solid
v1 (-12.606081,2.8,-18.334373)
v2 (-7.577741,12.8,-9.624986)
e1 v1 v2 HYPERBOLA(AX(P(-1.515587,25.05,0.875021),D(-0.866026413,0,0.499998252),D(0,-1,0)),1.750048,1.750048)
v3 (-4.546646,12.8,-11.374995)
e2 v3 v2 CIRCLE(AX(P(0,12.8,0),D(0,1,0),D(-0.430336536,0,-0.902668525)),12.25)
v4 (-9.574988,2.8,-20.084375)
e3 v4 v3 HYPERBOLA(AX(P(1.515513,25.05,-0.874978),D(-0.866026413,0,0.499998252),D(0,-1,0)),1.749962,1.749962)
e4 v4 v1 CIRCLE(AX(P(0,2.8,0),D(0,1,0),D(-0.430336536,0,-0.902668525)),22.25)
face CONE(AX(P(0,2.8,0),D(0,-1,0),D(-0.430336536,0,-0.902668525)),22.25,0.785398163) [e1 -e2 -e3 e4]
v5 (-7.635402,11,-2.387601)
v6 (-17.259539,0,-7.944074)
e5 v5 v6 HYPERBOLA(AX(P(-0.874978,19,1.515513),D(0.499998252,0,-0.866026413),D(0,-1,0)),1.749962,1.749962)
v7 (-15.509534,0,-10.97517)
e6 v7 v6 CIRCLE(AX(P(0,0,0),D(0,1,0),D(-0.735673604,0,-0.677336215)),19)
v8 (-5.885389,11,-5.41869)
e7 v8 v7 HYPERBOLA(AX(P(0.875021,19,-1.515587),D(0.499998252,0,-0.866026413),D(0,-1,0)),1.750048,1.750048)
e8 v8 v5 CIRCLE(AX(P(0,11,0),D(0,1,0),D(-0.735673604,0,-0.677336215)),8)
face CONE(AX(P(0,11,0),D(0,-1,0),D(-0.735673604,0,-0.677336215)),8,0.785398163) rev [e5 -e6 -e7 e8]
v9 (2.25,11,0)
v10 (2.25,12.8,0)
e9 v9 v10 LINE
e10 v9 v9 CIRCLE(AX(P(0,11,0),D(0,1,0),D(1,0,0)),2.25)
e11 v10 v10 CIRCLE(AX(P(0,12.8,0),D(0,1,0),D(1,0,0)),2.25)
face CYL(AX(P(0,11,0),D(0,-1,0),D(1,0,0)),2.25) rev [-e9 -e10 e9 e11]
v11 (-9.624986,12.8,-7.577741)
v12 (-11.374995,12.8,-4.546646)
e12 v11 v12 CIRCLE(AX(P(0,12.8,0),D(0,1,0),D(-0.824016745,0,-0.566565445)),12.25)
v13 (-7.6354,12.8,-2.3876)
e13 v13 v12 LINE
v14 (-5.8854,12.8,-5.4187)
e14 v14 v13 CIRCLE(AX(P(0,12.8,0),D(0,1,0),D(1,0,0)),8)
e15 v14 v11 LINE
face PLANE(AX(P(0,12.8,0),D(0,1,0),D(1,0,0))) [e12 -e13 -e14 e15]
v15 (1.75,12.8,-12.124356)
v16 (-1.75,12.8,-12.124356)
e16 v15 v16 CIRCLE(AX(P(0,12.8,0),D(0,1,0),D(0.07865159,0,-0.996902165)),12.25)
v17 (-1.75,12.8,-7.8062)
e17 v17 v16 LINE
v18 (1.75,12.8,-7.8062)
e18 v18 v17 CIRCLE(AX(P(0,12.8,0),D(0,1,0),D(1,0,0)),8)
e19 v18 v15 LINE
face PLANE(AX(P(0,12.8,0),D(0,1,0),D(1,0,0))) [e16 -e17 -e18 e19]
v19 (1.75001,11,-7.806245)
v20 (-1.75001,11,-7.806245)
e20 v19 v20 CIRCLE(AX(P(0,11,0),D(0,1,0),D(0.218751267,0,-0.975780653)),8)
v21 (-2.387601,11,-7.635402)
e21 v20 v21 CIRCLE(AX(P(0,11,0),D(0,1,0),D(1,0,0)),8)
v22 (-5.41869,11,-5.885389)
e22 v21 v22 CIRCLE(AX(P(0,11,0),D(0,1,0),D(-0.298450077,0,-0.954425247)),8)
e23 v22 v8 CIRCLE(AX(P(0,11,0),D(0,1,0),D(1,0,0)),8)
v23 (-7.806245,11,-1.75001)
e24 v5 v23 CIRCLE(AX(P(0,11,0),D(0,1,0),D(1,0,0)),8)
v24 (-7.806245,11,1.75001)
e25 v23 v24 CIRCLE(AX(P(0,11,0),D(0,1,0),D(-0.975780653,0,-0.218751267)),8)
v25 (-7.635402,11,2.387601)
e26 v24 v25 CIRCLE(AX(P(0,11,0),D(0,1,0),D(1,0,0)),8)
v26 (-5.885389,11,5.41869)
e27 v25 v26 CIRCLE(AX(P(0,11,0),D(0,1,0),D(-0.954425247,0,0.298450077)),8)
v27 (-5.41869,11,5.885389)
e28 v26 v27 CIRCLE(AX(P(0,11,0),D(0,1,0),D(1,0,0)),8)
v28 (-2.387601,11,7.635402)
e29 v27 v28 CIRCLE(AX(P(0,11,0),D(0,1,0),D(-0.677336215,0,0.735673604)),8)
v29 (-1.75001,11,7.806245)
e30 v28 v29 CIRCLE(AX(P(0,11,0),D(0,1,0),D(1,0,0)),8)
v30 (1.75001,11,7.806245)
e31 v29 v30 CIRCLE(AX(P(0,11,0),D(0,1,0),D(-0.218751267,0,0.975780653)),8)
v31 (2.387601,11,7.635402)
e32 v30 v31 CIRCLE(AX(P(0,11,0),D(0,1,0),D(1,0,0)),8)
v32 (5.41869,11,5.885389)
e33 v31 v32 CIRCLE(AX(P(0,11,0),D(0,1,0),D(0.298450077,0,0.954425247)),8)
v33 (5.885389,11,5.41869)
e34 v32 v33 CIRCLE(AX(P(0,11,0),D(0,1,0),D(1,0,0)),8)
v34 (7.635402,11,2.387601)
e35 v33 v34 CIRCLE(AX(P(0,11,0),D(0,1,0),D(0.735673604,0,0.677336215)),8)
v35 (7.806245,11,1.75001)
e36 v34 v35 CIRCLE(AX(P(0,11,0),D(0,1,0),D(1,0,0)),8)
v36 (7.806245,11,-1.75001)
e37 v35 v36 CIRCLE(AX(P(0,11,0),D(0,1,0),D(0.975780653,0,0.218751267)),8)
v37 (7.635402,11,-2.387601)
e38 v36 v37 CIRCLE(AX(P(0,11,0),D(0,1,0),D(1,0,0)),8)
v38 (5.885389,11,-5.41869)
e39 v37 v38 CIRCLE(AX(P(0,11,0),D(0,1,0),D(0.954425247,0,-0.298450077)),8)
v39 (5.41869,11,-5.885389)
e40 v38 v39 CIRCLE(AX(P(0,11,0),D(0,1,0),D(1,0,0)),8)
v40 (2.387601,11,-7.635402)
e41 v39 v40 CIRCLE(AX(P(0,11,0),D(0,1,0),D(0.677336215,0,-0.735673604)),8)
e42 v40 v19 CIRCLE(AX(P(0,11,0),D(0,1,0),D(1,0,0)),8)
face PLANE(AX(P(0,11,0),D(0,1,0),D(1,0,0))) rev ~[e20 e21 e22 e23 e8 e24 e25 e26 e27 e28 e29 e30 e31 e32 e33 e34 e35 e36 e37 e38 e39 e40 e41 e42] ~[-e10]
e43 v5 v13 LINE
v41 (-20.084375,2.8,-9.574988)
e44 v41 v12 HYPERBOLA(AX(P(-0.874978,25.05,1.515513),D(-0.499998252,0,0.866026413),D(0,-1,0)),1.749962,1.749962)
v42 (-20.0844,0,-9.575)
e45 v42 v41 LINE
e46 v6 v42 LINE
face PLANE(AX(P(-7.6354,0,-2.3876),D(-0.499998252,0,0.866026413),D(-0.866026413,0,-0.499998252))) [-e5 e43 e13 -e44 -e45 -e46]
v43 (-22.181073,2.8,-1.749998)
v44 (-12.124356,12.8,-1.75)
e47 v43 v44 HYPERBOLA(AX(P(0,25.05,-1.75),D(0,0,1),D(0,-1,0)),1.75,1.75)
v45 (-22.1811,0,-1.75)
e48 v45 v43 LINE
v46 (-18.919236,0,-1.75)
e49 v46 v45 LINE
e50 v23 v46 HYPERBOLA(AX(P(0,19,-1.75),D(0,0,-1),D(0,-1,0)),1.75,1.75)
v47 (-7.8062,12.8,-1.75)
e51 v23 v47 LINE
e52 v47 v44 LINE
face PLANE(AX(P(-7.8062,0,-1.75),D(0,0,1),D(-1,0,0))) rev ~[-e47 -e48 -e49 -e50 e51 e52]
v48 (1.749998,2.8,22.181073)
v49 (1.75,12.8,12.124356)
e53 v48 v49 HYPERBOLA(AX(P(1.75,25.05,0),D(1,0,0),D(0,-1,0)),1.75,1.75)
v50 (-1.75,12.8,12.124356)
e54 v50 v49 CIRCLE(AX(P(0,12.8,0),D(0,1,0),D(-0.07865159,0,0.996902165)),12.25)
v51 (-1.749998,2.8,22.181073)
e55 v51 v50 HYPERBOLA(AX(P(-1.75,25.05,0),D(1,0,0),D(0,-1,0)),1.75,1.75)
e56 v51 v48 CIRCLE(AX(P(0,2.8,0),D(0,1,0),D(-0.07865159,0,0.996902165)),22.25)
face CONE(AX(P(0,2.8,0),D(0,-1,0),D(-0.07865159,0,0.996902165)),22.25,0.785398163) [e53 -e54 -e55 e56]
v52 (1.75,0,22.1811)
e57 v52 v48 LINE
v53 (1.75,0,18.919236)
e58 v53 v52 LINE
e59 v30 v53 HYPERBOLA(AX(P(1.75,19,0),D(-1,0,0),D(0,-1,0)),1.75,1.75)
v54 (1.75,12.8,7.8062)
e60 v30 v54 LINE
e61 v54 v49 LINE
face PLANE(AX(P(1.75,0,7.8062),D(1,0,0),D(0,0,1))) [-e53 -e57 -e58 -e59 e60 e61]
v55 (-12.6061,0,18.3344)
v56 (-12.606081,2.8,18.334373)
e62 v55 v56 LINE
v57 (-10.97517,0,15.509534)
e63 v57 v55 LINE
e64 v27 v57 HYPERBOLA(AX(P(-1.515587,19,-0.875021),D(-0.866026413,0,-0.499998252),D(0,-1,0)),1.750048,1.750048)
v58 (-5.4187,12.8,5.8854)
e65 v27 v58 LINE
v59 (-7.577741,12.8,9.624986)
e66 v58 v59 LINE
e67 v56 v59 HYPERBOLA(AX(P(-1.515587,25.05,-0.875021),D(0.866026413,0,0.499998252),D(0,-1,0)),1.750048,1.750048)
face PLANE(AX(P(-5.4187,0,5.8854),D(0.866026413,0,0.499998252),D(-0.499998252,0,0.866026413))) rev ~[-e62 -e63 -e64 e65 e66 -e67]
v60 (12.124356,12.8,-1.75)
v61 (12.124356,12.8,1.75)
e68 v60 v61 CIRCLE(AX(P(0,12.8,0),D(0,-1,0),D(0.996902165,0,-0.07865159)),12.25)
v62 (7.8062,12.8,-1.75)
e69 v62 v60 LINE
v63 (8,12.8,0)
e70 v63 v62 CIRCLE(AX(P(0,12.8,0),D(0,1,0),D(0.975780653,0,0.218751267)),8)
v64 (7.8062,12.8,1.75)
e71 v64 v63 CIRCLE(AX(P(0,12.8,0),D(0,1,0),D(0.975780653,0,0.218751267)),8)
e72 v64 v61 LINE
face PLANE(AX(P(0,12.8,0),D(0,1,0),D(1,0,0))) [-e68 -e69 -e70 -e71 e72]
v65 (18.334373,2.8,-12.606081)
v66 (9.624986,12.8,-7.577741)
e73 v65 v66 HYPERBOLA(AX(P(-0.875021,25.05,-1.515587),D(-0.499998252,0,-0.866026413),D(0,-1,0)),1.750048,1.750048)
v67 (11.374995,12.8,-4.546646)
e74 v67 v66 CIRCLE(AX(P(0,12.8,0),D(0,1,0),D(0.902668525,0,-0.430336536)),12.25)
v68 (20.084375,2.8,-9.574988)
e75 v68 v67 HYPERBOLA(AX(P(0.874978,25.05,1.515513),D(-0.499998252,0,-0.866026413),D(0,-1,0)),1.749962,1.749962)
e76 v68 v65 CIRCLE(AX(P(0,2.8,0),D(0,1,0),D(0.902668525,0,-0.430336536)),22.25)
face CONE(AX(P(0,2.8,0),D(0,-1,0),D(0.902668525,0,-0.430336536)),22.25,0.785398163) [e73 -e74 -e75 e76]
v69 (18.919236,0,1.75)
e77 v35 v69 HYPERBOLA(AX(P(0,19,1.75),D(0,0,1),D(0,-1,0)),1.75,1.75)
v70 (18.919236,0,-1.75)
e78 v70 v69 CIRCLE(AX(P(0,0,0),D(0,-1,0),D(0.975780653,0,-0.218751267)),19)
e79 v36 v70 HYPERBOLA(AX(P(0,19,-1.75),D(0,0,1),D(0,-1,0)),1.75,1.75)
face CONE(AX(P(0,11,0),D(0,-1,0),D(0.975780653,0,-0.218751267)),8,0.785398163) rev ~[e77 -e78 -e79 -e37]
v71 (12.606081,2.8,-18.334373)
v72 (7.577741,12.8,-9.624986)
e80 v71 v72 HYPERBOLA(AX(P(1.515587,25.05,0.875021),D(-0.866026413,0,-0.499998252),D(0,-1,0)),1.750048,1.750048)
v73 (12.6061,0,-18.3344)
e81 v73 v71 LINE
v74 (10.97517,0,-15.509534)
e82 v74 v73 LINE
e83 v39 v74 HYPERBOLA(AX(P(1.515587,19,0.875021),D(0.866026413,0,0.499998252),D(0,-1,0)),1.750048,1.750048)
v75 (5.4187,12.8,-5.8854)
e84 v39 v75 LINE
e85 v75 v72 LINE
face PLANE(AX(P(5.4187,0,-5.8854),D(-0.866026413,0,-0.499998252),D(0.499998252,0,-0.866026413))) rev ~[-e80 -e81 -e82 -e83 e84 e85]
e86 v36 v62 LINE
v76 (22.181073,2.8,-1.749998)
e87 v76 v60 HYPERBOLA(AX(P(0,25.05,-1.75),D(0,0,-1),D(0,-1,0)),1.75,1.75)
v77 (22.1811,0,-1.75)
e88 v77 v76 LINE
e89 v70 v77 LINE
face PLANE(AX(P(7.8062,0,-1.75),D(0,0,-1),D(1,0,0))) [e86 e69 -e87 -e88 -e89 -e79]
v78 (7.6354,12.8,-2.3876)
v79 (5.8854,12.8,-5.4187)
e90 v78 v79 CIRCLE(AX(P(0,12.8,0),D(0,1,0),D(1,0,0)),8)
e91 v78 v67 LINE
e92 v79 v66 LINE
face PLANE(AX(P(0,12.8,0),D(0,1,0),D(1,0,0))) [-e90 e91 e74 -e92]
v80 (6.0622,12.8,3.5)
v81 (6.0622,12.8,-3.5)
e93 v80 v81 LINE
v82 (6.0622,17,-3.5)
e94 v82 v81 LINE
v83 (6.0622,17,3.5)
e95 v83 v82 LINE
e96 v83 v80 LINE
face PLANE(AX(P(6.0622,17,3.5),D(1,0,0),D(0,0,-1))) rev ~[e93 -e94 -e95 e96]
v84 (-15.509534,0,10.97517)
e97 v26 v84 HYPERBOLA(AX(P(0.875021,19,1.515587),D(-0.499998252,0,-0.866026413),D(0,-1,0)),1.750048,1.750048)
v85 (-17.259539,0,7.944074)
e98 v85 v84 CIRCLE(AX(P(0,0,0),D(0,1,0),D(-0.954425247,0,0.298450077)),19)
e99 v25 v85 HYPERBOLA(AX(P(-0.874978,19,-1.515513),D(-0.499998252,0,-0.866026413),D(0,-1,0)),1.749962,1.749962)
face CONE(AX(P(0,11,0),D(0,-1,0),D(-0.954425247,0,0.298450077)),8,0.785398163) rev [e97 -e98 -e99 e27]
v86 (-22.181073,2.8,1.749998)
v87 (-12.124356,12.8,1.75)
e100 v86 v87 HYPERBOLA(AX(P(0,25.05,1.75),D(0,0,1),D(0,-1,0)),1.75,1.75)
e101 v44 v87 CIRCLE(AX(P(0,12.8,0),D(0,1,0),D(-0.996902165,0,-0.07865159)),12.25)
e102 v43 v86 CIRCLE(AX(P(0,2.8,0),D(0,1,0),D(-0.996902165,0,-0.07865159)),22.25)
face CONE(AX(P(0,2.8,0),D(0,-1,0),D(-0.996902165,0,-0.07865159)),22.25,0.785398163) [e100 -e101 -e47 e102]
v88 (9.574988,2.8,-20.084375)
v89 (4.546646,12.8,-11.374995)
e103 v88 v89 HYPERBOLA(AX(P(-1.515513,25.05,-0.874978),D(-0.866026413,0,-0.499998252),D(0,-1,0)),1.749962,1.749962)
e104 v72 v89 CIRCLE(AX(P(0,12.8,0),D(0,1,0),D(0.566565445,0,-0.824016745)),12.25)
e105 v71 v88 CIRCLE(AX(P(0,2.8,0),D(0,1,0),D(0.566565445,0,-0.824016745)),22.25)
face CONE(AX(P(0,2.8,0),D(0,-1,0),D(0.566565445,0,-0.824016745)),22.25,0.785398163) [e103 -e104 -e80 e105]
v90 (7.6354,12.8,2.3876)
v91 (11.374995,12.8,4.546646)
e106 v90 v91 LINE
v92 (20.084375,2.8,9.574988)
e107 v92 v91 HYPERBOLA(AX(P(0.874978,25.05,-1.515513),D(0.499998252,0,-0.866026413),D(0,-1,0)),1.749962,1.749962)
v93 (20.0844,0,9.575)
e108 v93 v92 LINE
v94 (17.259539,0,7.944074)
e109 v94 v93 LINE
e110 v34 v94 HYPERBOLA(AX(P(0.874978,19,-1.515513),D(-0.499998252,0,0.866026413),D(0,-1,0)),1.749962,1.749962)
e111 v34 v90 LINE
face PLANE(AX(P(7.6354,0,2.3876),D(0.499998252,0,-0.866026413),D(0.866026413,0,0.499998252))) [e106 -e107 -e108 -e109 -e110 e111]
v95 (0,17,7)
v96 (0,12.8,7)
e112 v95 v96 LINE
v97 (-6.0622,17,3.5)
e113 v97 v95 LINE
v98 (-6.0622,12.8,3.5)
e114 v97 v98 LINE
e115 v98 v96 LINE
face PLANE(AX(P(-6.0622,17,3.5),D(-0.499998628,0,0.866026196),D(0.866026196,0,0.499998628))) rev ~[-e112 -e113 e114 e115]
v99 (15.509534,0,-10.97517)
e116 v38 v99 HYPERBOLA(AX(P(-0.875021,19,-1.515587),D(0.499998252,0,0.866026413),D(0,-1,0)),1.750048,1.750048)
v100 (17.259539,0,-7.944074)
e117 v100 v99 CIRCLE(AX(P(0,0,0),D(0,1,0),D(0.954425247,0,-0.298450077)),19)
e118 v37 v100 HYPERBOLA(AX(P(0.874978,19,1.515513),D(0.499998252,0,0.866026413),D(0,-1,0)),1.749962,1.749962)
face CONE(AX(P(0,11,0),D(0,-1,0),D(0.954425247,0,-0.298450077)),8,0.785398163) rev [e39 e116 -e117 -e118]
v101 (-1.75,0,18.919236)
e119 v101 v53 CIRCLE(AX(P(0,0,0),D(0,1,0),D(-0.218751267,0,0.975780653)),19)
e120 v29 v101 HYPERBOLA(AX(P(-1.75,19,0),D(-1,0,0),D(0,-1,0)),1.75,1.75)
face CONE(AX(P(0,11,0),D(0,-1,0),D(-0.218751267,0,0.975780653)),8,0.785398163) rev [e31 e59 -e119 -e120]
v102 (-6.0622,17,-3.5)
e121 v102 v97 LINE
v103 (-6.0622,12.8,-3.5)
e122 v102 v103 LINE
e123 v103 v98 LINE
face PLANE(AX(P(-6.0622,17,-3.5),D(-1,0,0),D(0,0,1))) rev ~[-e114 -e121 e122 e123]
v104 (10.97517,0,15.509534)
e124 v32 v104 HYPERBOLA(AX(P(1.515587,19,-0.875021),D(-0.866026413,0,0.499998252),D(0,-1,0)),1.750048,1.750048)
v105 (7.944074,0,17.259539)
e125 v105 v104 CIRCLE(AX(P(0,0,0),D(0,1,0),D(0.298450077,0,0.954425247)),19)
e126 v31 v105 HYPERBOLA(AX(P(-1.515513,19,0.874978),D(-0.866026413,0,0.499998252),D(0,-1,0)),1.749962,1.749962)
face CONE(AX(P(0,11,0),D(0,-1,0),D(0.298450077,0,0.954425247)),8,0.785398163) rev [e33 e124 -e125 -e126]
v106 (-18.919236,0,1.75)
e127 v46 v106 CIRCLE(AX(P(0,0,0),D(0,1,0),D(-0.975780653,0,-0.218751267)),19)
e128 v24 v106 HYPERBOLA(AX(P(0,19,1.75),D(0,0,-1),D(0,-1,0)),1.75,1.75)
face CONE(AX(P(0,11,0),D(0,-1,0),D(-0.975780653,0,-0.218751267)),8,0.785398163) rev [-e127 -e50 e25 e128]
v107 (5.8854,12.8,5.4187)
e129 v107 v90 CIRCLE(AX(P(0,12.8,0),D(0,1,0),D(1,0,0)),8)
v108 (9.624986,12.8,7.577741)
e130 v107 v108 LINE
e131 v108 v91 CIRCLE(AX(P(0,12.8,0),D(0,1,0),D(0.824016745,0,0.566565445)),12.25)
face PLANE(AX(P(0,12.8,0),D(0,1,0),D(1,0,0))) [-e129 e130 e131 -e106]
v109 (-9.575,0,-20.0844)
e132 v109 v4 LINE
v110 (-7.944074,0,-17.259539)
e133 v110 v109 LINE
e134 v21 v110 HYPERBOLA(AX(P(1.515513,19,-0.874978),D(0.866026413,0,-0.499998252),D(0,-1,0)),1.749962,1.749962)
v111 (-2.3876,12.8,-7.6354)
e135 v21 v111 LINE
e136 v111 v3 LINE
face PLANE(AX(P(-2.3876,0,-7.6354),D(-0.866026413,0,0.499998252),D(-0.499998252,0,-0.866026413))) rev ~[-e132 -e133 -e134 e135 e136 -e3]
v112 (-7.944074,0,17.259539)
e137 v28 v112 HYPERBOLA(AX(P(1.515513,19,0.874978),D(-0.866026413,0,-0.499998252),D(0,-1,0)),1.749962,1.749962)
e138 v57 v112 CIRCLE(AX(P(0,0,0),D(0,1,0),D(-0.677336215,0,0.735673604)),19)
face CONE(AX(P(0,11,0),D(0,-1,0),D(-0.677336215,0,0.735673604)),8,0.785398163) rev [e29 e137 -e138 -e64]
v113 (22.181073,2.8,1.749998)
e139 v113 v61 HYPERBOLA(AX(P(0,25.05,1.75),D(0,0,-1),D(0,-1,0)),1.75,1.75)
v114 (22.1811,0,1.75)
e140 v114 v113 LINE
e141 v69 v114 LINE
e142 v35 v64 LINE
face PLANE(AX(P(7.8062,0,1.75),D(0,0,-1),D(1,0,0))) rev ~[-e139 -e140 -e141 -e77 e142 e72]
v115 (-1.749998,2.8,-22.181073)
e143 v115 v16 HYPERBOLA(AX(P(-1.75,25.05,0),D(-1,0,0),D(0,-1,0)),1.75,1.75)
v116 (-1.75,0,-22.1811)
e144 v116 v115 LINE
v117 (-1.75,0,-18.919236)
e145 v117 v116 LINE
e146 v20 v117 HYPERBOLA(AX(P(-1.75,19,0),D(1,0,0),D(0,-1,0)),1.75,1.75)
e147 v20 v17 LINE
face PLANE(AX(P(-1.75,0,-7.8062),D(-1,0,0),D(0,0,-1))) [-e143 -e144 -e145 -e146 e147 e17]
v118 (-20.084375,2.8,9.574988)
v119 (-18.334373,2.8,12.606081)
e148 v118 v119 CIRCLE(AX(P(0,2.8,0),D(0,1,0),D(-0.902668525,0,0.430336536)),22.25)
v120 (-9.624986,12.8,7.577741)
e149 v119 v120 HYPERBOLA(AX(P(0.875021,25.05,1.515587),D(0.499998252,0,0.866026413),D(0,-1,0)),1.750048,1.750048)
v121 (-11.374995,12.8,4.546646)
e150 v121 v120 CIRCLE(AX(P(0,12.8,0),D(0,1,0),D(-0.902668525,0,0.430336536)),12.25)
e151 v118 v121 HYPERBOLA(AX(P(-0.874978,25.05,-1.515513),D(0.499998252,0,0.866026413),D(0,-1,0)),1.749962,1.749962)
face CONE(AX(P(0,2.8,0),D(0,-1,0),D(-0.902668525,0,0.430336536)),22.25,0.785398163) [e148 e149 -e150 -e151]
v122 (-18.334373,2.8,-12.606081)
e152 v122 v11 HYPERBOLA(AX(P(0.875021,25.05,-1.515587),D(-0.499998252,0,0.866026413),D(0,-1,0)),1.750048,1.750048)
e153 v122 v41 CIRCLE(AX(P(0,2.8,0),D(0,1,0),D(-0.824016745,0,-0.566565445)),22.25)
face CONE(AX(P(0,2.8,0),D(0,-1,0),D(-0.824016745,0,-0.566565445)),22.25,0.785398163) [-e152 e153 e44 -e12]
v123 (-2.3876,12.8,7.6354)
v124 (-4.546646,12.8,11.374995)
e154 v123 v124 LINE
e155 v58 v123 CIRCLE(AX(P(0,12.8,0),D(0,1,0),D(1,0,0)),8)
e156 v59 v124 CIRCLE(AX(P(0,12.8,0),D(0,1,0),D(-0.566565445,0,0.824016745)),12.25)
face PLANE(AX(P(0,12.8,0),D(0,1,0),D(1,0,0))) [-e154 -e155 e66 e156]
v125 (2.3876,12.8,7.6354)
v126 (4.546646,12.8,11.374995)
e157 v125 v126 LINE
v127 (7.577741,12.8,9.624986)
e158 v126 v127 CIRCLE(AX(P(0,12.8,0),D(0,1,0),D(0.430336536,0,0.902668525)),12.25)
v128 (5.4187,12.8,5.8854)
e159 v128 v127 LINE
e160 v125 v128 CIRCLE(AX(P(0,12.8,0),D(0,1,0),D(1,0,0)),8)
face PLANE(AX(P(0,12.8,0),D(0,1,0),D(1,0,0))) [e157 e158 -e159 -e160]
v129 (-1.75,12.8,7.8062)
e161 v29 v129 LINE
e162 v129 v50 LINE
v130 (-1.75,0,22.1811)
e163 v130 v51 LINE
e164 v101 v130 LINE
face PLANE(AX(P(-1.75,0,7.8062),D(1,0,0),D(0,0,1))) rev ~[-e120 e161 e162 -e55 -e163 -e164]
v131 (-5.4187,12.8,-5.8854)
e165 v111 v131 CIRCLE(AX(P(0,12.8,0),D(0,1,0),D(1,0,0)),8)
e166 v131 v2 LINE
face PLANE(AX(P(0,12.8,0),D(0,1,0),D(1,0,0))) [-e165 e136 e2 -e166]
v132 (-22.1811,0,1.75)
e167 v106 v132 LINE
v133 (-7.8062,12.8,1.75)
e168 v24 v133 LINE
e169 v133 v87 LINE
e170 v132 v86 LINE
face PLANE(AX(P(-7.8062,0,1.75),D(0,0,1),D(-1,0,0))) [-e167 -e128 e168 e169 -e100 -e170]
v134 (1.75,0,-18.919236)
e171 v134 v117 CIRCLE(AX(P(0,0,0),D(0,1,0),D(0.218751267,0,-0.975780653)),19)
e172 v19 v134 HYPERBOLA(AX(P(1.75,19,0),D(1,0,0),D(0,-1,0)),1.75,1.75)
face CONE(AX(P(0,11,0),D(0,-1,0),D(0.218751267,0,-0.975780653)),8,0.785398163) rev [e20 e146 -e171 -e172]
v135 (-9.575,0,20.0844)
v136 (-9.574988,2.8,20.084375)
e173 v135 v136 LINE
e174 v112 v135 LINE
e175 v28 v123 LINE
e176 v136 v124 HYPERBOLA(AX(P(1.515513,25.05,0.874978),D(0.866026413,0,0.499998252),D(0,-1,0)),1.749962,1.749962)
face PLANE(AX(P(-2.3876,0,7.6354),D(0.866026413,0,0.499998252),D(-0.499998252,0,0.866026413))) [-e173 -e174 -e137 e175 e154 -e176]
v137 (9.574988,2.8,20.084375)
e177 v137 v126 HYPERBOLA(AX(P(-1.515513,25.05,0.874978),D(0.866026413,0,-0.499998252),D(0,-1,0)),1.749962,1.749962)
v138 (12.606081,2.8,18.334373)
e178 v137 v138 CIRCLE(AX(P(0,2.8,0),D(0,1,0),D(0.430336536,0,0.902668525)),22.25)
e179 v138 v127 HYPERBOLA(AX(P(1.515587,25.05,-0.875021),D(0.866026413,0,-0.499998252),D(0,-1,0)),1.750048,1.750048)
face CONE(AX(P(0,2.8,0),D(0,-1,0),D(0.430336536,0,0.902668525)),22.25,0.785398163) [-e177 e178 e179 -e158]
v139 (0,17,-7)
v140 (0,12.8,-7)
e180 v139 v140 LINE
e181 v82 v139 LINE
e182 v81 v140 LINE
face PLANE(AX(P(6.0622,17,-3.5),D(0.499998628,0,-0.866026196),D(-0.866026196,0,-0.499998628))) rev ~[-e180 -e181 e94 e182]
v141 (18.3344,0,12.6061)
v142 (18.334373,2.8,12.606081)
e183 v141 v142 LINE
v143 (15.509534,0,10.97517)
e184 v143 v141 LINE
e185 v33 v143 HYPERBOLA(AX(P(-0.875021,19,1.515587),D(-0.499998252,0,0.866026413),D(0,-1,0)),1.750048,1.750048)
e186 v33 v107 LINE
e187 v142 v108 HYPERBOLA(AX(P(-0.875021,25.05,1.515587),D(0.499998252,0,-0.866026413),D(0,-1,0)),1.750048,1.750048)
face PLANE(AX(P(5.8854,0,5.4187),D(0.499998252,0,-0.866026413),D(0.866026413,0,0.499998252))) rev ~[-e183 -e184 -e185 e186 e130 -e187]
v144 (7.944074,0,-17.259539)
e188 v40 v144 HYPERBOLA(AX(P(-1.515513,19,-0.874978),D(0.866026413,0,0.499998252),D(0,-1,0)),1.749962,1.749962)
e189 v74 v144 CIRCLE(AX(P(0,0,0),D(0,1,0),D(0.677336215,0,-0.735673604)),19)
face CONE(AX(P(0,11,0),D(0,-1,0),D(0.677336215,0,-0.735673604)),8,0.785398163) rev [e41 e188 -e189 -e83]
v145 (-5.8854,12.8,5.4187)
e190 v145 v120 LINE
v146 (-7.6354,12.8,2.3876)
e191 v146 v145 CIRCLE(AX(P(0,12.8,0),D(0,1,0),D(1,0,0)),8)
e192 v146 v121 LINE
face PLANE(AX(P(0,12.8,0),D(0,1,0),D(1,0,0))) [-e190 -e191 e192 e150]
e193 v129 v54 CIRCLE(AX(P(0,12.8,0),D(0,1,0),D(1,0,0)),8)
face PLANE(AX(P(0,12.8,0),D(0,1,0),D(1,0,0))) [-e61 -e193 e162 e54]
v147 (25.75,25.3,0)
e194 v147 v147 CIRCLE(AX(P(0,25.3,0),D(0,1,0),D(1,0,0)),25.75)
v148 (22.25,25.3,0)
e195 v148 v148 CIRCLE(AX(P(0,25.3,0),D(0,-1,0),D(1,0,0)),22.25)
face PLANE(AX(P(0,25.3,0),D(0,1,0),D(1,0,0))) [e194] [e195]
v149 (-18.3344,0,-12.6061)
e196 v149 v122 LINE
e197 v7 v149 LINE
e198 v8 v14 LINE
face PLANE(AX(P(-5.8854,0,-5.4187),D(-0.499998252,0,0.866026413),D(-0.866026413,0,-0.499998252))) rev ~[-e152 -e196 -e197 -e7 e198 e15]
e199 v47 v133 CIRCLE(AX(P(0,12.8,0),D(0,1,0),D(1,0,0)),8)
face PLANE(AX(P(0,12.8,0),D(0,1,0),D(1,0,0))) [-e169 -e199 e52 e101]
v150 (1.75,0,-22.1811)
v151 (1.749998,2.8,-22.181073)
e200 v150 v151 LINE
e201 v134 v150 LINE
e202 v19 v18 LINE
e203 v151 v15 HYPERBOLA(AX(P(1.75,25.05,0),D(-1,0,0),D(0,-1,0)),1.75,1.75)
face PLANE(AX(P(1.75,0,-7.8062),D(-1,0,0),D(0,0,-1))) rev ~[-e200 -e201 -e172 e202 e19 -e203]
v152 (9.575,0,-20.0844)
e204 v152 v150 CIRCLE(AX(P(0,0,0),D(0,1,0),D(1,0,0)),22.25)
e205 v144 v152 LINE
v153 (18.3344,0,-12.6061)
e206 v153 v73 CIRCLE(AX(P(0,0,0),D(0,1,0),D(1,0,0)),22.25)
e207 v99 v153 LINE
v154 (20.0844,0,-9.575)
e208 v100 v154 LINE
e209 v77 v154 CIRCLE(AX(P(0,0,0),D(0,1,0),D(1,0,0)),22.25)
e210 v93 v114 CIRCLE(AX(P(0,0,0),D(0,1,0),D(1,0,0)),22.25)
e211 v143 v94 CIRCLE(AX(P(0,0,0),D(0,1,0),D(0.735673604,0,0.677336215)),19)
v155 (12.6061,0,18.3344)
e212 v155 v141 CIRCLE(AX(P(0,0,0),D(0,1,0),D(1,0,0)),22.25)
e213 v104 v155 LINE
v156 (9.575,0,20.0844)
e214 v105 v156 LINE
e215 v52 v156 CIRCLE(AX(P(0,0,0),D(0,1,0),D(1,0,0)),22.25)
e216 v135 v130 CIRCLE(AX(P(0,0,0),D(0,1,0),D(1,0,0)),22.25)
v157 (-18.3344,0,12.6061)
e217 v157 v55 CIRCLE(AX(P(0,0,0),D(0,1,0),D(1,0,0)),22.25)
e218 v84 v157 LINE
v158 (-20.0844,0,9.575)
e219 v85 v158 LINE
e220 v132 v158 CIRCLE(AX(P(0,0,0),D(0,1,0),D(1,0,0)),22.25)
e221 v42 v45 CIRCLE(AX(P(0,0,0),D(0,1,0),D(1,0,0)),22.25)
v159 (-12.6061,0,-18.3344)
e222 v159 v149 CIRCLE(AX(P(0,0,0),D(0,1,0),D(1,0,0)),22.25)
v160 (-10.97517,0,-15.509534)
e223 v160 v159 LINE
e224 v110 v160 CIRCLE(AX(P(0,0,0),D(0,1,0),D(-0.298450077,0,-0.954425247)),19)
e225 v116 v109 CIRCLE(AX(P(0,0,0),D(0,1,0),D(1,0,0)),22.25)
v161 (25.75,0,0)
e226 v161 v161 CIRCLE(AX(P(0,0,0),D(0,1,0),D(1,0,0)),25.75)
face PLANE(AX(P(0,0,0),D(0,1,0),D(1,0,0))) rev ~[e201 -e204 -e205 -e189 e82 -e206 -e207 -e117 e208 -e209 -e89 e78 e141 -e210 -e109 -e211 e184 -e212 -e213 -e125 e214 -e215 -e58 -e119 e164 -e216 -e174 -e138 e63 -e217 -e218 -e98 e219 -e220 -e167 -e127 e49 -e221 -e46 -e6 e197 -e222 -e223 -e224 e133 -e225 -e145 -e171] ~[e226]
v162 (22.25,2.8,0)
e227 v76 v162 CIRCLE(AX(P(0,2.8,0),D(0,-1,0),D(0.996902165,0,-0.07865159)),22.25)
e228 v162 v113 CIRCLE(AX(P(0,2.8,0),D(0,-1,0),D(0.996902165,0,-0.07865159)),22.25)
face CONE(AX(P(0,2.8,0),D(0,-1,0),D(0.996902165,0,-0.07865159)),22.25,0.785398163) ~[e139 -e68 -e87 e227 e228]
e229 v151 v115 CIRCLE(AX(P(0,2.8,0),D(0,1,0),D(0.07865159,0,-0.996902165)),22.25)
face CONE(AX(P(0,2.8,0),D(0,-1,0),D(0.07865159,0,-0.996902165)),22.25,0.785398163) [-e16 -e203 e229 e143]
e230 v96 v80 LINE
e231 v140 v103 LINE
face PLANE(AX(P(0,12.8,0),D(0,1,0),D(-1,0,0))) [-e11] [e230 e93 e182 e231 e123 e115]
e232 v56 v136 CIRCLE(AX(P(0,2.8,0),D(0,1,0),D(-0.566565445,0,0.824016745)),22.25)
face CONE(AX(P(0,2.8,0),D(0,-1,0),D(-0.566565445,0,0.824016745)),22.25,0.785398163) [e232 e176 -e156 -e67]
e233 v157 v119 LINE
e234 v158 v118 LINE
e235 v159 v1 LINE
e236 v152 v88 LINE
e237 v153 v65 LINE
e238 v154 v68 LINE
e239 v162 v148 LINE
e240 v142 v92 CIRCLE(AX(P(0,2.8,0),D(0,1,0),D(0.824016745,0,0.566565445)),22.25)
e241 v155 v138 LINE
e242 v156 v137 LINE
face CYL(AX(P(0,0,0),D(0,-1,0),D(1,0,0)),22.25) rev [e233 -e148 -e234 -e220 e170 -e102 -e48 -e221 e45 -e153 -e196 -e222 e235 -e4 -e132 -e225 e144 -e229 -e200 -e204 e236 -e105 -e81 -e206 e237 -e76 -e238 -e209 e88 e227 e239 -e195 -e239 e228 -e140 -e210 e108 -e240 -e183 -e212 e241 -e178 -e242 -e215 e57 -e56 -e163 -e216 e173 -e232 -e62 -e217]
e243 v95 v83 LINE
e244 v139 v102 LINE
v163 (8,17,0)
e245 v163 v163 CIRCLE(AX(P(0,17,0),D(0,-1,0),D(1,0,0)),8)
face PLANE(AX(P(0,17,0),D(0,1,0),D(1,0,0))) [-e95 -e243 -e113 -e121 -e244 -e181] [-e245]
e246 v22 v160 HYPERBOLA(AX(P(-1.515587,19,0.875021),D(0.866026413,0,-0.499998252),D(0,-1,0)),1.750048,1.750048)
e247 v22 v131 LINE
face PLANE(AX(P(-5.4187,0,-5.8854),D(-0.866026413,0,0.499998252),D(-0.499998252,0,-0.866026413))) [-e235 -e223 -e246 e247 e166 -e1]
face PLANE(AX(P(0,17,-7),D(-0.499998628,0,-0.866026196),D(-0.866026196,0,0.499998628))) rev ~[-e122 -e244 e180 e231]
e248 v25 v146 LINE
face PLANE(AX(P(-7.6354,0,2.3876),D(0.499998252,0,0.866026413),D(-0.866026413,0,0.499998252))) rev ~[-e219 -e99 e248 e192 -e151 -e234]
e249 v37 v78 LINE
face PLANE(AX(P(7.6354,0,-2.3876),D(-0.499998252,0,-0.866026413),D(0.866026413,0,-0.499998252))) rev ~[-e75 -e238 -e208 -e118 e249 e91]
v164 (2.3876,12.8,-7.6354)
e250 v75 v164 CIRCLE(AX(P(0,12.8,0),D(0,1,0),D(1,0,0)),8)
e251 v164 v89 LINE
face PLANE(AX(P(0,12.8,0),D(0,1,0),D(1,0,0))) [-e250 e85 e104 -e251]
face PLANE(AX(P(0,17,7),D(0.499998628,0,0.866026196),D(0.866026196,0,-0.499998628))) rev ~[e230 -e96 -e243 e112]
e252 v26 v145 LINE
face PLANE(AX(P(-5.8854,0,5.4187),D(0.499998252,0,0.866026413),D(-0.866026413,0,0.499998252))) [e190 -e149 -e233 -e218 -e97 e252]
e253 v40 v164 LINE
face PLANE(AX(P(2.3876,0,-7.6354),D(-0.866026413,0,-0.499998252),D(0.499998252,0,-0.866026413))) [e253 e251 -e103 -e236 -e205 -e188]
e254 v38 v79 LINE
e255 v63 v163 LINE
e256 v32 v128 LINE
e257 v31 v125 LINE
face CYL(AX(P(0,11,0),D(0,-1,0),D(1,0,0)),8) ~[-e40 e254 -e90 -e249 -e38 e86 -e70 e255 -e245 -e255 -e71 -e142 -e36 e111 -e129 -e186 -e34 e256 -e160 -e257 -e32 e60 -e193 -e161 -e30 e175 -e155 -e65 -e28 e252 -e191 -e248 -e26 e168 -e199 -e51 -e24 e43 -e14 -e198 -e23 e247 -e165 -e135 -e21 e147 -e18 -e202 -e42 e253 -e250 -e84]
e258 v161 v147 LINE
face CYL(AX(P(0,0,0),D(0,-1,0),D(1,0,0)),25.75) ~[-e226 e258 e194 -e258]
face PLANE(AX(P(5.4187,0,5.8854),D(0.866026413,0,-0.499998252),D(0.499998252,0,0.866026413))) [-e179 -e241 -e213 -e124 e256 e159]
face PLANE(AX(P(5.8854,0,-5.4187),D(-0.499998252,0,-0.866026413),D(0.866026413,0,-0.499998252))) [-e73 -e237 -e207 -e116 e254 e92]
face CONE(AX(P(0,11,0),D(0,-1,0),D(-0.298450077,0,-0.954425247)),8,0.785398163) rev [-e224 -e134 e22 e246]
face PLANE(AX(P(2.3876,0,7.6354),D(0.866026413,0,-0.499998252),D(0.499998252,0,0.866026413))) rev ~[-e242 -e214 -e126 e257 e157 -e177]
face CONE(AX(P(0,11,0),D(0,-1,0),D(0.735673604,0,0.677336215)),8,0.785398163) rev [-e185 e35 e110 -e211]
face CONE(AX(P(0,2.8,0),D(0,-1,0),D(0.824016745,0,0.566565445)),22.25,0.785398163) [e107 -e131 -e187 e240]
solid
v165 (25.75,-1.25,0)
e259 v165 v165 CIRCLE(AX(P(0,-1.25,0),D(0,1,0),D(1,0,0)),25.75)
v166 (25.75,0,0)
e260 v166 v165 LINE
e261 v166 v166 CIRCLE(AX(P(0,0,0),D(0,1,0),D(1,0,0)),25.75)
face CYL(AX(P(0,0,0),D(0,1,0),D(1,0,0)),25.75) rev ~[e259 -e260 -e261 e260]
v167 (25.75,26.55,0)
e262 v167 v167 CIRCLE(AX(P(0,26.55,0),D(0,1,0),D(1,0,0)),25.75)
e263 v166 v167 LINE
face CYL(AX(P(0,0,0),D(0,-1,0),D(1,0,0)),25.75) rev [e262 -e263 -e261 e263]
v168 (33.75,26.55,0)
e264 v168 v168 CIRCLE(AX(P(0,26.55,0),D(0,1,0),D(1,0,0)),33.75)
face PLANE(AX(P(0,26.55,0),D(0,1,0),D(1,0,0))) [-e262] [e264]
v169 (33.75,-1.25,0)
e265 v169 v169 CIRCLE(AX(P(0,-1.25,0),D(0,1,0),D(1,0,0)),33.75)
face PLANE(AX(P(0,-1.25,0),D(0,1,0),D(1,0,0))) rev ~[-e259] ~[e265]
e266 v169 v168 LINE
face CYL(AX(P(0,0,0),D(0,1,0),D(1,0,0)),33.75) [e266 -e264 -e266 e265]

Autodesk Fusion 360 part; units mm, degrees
sketch "Sketch1" plane through (0, 0, 0) normal (0, 1, 0) x (1, 0, 0) in component "hub"
  circle A0 centre (0, 0) radius 25.75
  circle A1 centre (0, 0) radius 2.25
  circle A2 centre (0, 0) radius 22.25
  circle A3 centre (0, 0) radius 8
  line L0 (0, 0) -> (1.75, 0) construction
  line L1 (0, 0) -> (-1.75, 0) construction
  line L2 (-1.75, 0) -> (-1.75, -7.8062) construction
  line L3 (1.75, 0) -> (1.75, -7.8062) construction
  line L4 (-1.75, -7.8062) -> (-1.75, -22.1811)
  line L5 (1.75, -7.8062) -> (1.75, -22.1811)
  line L6 (2.3876, -7.6354) -> (9.575, -20.0844)
  line L7 (5.4187, -5.8854) -> (12.6061, -18.3344)
  line L8 (5.8854, -5.4187) -> (18.3344, -12.6061)
  line L9 (7.6354, -2.3876) -> (20.0844, -9.575)
  line L10 (7.8062, -1.75) -> (22.1811, -1.75)
  line L11 (7.8062, 1.75) -> (22.1811, 1.75)
  line L12 (7.6354, 2.3876) -> (20.0844, 9.575)
  line L13 (5.8854, 5.4187) -> (18.3344, 12.6061)
  line L14 (5.4187, 5.8854) -> (12.6061, 18.3344)
  line L15 (2.3876, 7.6354) -> (9.575, 20.0844)
  line L16 (1.75, 7.8062) -> (1.75, 22.1811)
  line L17 (-1.75, 7.8062) -> (-1.75, 22.1811)
  line L18 (-2.3876, 7.6354) -> (-9.575, 20.0844)
  line L19 (-5.4187, 5.8854) -> (-12.6061, 18.3344)
  line L20 (-5.8854, 5.4187) -> (-18.3344, 12.6061)
  line L21 (-7.6354, 2.3876) -> (-20.0844, 9.575)
  line L22 (-7.8062, 1.75) -> (-22.1811, 1.75)
  line L23 (-7.8062, -1.75) -> (-22.1811, -1.75)
  line L24 (-7.6354, -2.3876) -> (-20.0844, -9.575)
  line L25 (-5.8854, -5.4187) -> (-18.3344, -12.6061)
  line L26 (-5.4187, -5.8854) -> (-12.6061, -18.3344)
  line L27 (-2.3876, -7.6354) -> (-9.575, -20.0844)
  dimension "d28" = 51.5
  dimension "d29" = 4.5
  dimension "d30" = 44.5
  dimension "d33" = 16
  dimension "d40" = 1.75
  dimension "d41" = 1.75
  dimension "d43" = 360
extrude "Extrude1" add sketch "Sketch1" along normal blind 25.3 contours A0 makes body 1 in component "hub"
extrude "Extrude2" add sketch "Sketch1" along normal blind 6 from surface at 11 separate body contours A3 makes body 2 in component "hub"
sketch "Sketch2" plane through (0, 17, 0) normal (0, 1, 0) x (-1, 0, 0) in component "hub"
  circle A0 centre (0, 0) radius 2.25
  circle A1 centre (0, 0) radius 8
  line L0 (0, -7) -> (6.0622, -3.5)
  line L1 (6.0622, -3.5) -> (6.0622, 3.5)
  line L2 (6.0622, 3.5) -> (0, 7)
  line L3 (0, 7) -> (-6.0622, 3.5)
  line L4 (-6.0622, 3.5) -> (-6.0622, -3.5)
  line L5 (-6.0622, -3.5) -> (0, -7)
  dimension "d37" = 7
extrude "Extrude3" cut sketch "Sketch2" against normal blind 4.2 contours L0 L1 L2 L3 L4 L5 bodies 2 in component "hub"
extrude "Extrude4" add sketch "Sketch1" along normal up to surface (12.8 mm away) separate body contours A2 A3 L10 L11 | A2 A3 L12 L13 | A2 A3 L8 L9 | A2 A3 L14 L15 | A2 A3 L6 L7 | A2 A3 L16 L17 | A2 A3 L4 L5 | A2 A3 L18 L19 | A2 A3 L26 L27 | A2 A3 L20 L21 | A2 A3 L24 L25 | A2 A3 L22 L23 makes body 3 at (-7.8145, 4.2667, 10.0351) makes body 4 at (4.7834, 4.2667, 11.7851) makes body 5 at (4.7834, 4.2667, -11.7851) makes body 6 at (11.7851, 4.2667, -4.7834) makes body 7 at (10.0351, 4.2667, 7.8145) makes body 8 at (-11.7851, 8.5333, 4.7834) makes body 9 at (-12.5979, 8.5333, -1.75) makes body 10 at (12.5979, 8.5333, 1.75) makes body 11 at (-4.7834, 4.2667, -11.7851) makes body 12 at (1.75, 8.5333, -12.5979) makes body 13 at (-10.0351, 8.5333, -7.8145) makes body 14 at (-1.75, 8.5333, 12.5979) in component "hub"
chamfer "Chamfer1" distance 11 angle 45 12 edges at (6.9282, 0, -4) (6.9282, 0, 4) (-8, 0, 0) (-6.9282, 0, 4) (8, 0, 0) (0, 0, -8) (4, 0, -6.9282) (-4, 0, -6.9282) (0, 0, 8) (4, 0, 6.9282) (-4, 0, 6.9282) (-6.9282, 0, -4) on bodies 3 4 5 6 7 8 9 10 11 12 13 14 in component "hub"
chamfer "Chamfer1" distance 10 angle 45 11 edges at (19.2691, 12.8, -11.125) (19.2691, 12.8, 11.125) (-22.25, 12.8, 0) (-19.2691, 12.8, 11.125) (0, 12.8, -22.25) (11.125, 12.8, -19.2691) (-11.125, 12.8, -19.2691) (0, 12.8, 22.25) (11.125, 12.8, 19.2691) (-11.125, 12.8, 19.2691) (-19.2691, 12.8, -11.125) on bodies 3 4 5 6 7 8 9 10 11 12 13 14 in component "hub"
chamfer "Chamfer1" distance 10 angle 45 1 edges at (22.25, 12.8, 0) on bodies 3 4 5 6 7 8 9 10 11 12 13 14 in component "hub"
combine "Combine1" operation add target body 1 tool bodies 11 13 9 8 3 14 4 7 10 6 5 12 2 in component "hub"
sketch "Sketch1 (2)" plane through (0, 0, 0) normal (0, 1, 0) x (1, 0, 0) in component "Wheel"
  circle A0 centre (0, 0) radius 25.75
  circle A1 centre (0, 0) radius 33.75
  dimension "d49" = 67.5
extrude "Extrude1'" add sketch "Sketch1 (2)" along normal up to surface (25.3 mm away) separate body makes body 15 in component "Wheel"
extrude "Extrude2'" add 1 faces at (30.8618, 25.3, 2.956) along direction (0, 1, 0) blind 1.25 on bodies 15 bodies 15 in component "Wheel"
extrude "Extrude3'" add 1 faces at (30.8618, 0, 2.956) along direction (0, -1, 0) blind 1.25 on bodies 15 bodies 15 in component "Wheel"
component "hub" placed x (1, 0, 0) y (0, 1, 0) z (0, 0, 1) at (0, 0, 0)
component "Wheel" placed x (1, 0, 0) y (0, 1, 0) z (0, 0, 1) at (0, 0, 0)
equation "d37 = ( 14 / 2 ) * 1 mm"
equation "d40 = ( 3.5 / 2 ) * 1 mm"
equation "d41 = d40"
equation "d52 = ( ( 27.5 - 25 ) / 2 ) * 1 mm"
equation "d54 = ( ( 27.5 - 25 ) / 2 ) * 1 mm"
